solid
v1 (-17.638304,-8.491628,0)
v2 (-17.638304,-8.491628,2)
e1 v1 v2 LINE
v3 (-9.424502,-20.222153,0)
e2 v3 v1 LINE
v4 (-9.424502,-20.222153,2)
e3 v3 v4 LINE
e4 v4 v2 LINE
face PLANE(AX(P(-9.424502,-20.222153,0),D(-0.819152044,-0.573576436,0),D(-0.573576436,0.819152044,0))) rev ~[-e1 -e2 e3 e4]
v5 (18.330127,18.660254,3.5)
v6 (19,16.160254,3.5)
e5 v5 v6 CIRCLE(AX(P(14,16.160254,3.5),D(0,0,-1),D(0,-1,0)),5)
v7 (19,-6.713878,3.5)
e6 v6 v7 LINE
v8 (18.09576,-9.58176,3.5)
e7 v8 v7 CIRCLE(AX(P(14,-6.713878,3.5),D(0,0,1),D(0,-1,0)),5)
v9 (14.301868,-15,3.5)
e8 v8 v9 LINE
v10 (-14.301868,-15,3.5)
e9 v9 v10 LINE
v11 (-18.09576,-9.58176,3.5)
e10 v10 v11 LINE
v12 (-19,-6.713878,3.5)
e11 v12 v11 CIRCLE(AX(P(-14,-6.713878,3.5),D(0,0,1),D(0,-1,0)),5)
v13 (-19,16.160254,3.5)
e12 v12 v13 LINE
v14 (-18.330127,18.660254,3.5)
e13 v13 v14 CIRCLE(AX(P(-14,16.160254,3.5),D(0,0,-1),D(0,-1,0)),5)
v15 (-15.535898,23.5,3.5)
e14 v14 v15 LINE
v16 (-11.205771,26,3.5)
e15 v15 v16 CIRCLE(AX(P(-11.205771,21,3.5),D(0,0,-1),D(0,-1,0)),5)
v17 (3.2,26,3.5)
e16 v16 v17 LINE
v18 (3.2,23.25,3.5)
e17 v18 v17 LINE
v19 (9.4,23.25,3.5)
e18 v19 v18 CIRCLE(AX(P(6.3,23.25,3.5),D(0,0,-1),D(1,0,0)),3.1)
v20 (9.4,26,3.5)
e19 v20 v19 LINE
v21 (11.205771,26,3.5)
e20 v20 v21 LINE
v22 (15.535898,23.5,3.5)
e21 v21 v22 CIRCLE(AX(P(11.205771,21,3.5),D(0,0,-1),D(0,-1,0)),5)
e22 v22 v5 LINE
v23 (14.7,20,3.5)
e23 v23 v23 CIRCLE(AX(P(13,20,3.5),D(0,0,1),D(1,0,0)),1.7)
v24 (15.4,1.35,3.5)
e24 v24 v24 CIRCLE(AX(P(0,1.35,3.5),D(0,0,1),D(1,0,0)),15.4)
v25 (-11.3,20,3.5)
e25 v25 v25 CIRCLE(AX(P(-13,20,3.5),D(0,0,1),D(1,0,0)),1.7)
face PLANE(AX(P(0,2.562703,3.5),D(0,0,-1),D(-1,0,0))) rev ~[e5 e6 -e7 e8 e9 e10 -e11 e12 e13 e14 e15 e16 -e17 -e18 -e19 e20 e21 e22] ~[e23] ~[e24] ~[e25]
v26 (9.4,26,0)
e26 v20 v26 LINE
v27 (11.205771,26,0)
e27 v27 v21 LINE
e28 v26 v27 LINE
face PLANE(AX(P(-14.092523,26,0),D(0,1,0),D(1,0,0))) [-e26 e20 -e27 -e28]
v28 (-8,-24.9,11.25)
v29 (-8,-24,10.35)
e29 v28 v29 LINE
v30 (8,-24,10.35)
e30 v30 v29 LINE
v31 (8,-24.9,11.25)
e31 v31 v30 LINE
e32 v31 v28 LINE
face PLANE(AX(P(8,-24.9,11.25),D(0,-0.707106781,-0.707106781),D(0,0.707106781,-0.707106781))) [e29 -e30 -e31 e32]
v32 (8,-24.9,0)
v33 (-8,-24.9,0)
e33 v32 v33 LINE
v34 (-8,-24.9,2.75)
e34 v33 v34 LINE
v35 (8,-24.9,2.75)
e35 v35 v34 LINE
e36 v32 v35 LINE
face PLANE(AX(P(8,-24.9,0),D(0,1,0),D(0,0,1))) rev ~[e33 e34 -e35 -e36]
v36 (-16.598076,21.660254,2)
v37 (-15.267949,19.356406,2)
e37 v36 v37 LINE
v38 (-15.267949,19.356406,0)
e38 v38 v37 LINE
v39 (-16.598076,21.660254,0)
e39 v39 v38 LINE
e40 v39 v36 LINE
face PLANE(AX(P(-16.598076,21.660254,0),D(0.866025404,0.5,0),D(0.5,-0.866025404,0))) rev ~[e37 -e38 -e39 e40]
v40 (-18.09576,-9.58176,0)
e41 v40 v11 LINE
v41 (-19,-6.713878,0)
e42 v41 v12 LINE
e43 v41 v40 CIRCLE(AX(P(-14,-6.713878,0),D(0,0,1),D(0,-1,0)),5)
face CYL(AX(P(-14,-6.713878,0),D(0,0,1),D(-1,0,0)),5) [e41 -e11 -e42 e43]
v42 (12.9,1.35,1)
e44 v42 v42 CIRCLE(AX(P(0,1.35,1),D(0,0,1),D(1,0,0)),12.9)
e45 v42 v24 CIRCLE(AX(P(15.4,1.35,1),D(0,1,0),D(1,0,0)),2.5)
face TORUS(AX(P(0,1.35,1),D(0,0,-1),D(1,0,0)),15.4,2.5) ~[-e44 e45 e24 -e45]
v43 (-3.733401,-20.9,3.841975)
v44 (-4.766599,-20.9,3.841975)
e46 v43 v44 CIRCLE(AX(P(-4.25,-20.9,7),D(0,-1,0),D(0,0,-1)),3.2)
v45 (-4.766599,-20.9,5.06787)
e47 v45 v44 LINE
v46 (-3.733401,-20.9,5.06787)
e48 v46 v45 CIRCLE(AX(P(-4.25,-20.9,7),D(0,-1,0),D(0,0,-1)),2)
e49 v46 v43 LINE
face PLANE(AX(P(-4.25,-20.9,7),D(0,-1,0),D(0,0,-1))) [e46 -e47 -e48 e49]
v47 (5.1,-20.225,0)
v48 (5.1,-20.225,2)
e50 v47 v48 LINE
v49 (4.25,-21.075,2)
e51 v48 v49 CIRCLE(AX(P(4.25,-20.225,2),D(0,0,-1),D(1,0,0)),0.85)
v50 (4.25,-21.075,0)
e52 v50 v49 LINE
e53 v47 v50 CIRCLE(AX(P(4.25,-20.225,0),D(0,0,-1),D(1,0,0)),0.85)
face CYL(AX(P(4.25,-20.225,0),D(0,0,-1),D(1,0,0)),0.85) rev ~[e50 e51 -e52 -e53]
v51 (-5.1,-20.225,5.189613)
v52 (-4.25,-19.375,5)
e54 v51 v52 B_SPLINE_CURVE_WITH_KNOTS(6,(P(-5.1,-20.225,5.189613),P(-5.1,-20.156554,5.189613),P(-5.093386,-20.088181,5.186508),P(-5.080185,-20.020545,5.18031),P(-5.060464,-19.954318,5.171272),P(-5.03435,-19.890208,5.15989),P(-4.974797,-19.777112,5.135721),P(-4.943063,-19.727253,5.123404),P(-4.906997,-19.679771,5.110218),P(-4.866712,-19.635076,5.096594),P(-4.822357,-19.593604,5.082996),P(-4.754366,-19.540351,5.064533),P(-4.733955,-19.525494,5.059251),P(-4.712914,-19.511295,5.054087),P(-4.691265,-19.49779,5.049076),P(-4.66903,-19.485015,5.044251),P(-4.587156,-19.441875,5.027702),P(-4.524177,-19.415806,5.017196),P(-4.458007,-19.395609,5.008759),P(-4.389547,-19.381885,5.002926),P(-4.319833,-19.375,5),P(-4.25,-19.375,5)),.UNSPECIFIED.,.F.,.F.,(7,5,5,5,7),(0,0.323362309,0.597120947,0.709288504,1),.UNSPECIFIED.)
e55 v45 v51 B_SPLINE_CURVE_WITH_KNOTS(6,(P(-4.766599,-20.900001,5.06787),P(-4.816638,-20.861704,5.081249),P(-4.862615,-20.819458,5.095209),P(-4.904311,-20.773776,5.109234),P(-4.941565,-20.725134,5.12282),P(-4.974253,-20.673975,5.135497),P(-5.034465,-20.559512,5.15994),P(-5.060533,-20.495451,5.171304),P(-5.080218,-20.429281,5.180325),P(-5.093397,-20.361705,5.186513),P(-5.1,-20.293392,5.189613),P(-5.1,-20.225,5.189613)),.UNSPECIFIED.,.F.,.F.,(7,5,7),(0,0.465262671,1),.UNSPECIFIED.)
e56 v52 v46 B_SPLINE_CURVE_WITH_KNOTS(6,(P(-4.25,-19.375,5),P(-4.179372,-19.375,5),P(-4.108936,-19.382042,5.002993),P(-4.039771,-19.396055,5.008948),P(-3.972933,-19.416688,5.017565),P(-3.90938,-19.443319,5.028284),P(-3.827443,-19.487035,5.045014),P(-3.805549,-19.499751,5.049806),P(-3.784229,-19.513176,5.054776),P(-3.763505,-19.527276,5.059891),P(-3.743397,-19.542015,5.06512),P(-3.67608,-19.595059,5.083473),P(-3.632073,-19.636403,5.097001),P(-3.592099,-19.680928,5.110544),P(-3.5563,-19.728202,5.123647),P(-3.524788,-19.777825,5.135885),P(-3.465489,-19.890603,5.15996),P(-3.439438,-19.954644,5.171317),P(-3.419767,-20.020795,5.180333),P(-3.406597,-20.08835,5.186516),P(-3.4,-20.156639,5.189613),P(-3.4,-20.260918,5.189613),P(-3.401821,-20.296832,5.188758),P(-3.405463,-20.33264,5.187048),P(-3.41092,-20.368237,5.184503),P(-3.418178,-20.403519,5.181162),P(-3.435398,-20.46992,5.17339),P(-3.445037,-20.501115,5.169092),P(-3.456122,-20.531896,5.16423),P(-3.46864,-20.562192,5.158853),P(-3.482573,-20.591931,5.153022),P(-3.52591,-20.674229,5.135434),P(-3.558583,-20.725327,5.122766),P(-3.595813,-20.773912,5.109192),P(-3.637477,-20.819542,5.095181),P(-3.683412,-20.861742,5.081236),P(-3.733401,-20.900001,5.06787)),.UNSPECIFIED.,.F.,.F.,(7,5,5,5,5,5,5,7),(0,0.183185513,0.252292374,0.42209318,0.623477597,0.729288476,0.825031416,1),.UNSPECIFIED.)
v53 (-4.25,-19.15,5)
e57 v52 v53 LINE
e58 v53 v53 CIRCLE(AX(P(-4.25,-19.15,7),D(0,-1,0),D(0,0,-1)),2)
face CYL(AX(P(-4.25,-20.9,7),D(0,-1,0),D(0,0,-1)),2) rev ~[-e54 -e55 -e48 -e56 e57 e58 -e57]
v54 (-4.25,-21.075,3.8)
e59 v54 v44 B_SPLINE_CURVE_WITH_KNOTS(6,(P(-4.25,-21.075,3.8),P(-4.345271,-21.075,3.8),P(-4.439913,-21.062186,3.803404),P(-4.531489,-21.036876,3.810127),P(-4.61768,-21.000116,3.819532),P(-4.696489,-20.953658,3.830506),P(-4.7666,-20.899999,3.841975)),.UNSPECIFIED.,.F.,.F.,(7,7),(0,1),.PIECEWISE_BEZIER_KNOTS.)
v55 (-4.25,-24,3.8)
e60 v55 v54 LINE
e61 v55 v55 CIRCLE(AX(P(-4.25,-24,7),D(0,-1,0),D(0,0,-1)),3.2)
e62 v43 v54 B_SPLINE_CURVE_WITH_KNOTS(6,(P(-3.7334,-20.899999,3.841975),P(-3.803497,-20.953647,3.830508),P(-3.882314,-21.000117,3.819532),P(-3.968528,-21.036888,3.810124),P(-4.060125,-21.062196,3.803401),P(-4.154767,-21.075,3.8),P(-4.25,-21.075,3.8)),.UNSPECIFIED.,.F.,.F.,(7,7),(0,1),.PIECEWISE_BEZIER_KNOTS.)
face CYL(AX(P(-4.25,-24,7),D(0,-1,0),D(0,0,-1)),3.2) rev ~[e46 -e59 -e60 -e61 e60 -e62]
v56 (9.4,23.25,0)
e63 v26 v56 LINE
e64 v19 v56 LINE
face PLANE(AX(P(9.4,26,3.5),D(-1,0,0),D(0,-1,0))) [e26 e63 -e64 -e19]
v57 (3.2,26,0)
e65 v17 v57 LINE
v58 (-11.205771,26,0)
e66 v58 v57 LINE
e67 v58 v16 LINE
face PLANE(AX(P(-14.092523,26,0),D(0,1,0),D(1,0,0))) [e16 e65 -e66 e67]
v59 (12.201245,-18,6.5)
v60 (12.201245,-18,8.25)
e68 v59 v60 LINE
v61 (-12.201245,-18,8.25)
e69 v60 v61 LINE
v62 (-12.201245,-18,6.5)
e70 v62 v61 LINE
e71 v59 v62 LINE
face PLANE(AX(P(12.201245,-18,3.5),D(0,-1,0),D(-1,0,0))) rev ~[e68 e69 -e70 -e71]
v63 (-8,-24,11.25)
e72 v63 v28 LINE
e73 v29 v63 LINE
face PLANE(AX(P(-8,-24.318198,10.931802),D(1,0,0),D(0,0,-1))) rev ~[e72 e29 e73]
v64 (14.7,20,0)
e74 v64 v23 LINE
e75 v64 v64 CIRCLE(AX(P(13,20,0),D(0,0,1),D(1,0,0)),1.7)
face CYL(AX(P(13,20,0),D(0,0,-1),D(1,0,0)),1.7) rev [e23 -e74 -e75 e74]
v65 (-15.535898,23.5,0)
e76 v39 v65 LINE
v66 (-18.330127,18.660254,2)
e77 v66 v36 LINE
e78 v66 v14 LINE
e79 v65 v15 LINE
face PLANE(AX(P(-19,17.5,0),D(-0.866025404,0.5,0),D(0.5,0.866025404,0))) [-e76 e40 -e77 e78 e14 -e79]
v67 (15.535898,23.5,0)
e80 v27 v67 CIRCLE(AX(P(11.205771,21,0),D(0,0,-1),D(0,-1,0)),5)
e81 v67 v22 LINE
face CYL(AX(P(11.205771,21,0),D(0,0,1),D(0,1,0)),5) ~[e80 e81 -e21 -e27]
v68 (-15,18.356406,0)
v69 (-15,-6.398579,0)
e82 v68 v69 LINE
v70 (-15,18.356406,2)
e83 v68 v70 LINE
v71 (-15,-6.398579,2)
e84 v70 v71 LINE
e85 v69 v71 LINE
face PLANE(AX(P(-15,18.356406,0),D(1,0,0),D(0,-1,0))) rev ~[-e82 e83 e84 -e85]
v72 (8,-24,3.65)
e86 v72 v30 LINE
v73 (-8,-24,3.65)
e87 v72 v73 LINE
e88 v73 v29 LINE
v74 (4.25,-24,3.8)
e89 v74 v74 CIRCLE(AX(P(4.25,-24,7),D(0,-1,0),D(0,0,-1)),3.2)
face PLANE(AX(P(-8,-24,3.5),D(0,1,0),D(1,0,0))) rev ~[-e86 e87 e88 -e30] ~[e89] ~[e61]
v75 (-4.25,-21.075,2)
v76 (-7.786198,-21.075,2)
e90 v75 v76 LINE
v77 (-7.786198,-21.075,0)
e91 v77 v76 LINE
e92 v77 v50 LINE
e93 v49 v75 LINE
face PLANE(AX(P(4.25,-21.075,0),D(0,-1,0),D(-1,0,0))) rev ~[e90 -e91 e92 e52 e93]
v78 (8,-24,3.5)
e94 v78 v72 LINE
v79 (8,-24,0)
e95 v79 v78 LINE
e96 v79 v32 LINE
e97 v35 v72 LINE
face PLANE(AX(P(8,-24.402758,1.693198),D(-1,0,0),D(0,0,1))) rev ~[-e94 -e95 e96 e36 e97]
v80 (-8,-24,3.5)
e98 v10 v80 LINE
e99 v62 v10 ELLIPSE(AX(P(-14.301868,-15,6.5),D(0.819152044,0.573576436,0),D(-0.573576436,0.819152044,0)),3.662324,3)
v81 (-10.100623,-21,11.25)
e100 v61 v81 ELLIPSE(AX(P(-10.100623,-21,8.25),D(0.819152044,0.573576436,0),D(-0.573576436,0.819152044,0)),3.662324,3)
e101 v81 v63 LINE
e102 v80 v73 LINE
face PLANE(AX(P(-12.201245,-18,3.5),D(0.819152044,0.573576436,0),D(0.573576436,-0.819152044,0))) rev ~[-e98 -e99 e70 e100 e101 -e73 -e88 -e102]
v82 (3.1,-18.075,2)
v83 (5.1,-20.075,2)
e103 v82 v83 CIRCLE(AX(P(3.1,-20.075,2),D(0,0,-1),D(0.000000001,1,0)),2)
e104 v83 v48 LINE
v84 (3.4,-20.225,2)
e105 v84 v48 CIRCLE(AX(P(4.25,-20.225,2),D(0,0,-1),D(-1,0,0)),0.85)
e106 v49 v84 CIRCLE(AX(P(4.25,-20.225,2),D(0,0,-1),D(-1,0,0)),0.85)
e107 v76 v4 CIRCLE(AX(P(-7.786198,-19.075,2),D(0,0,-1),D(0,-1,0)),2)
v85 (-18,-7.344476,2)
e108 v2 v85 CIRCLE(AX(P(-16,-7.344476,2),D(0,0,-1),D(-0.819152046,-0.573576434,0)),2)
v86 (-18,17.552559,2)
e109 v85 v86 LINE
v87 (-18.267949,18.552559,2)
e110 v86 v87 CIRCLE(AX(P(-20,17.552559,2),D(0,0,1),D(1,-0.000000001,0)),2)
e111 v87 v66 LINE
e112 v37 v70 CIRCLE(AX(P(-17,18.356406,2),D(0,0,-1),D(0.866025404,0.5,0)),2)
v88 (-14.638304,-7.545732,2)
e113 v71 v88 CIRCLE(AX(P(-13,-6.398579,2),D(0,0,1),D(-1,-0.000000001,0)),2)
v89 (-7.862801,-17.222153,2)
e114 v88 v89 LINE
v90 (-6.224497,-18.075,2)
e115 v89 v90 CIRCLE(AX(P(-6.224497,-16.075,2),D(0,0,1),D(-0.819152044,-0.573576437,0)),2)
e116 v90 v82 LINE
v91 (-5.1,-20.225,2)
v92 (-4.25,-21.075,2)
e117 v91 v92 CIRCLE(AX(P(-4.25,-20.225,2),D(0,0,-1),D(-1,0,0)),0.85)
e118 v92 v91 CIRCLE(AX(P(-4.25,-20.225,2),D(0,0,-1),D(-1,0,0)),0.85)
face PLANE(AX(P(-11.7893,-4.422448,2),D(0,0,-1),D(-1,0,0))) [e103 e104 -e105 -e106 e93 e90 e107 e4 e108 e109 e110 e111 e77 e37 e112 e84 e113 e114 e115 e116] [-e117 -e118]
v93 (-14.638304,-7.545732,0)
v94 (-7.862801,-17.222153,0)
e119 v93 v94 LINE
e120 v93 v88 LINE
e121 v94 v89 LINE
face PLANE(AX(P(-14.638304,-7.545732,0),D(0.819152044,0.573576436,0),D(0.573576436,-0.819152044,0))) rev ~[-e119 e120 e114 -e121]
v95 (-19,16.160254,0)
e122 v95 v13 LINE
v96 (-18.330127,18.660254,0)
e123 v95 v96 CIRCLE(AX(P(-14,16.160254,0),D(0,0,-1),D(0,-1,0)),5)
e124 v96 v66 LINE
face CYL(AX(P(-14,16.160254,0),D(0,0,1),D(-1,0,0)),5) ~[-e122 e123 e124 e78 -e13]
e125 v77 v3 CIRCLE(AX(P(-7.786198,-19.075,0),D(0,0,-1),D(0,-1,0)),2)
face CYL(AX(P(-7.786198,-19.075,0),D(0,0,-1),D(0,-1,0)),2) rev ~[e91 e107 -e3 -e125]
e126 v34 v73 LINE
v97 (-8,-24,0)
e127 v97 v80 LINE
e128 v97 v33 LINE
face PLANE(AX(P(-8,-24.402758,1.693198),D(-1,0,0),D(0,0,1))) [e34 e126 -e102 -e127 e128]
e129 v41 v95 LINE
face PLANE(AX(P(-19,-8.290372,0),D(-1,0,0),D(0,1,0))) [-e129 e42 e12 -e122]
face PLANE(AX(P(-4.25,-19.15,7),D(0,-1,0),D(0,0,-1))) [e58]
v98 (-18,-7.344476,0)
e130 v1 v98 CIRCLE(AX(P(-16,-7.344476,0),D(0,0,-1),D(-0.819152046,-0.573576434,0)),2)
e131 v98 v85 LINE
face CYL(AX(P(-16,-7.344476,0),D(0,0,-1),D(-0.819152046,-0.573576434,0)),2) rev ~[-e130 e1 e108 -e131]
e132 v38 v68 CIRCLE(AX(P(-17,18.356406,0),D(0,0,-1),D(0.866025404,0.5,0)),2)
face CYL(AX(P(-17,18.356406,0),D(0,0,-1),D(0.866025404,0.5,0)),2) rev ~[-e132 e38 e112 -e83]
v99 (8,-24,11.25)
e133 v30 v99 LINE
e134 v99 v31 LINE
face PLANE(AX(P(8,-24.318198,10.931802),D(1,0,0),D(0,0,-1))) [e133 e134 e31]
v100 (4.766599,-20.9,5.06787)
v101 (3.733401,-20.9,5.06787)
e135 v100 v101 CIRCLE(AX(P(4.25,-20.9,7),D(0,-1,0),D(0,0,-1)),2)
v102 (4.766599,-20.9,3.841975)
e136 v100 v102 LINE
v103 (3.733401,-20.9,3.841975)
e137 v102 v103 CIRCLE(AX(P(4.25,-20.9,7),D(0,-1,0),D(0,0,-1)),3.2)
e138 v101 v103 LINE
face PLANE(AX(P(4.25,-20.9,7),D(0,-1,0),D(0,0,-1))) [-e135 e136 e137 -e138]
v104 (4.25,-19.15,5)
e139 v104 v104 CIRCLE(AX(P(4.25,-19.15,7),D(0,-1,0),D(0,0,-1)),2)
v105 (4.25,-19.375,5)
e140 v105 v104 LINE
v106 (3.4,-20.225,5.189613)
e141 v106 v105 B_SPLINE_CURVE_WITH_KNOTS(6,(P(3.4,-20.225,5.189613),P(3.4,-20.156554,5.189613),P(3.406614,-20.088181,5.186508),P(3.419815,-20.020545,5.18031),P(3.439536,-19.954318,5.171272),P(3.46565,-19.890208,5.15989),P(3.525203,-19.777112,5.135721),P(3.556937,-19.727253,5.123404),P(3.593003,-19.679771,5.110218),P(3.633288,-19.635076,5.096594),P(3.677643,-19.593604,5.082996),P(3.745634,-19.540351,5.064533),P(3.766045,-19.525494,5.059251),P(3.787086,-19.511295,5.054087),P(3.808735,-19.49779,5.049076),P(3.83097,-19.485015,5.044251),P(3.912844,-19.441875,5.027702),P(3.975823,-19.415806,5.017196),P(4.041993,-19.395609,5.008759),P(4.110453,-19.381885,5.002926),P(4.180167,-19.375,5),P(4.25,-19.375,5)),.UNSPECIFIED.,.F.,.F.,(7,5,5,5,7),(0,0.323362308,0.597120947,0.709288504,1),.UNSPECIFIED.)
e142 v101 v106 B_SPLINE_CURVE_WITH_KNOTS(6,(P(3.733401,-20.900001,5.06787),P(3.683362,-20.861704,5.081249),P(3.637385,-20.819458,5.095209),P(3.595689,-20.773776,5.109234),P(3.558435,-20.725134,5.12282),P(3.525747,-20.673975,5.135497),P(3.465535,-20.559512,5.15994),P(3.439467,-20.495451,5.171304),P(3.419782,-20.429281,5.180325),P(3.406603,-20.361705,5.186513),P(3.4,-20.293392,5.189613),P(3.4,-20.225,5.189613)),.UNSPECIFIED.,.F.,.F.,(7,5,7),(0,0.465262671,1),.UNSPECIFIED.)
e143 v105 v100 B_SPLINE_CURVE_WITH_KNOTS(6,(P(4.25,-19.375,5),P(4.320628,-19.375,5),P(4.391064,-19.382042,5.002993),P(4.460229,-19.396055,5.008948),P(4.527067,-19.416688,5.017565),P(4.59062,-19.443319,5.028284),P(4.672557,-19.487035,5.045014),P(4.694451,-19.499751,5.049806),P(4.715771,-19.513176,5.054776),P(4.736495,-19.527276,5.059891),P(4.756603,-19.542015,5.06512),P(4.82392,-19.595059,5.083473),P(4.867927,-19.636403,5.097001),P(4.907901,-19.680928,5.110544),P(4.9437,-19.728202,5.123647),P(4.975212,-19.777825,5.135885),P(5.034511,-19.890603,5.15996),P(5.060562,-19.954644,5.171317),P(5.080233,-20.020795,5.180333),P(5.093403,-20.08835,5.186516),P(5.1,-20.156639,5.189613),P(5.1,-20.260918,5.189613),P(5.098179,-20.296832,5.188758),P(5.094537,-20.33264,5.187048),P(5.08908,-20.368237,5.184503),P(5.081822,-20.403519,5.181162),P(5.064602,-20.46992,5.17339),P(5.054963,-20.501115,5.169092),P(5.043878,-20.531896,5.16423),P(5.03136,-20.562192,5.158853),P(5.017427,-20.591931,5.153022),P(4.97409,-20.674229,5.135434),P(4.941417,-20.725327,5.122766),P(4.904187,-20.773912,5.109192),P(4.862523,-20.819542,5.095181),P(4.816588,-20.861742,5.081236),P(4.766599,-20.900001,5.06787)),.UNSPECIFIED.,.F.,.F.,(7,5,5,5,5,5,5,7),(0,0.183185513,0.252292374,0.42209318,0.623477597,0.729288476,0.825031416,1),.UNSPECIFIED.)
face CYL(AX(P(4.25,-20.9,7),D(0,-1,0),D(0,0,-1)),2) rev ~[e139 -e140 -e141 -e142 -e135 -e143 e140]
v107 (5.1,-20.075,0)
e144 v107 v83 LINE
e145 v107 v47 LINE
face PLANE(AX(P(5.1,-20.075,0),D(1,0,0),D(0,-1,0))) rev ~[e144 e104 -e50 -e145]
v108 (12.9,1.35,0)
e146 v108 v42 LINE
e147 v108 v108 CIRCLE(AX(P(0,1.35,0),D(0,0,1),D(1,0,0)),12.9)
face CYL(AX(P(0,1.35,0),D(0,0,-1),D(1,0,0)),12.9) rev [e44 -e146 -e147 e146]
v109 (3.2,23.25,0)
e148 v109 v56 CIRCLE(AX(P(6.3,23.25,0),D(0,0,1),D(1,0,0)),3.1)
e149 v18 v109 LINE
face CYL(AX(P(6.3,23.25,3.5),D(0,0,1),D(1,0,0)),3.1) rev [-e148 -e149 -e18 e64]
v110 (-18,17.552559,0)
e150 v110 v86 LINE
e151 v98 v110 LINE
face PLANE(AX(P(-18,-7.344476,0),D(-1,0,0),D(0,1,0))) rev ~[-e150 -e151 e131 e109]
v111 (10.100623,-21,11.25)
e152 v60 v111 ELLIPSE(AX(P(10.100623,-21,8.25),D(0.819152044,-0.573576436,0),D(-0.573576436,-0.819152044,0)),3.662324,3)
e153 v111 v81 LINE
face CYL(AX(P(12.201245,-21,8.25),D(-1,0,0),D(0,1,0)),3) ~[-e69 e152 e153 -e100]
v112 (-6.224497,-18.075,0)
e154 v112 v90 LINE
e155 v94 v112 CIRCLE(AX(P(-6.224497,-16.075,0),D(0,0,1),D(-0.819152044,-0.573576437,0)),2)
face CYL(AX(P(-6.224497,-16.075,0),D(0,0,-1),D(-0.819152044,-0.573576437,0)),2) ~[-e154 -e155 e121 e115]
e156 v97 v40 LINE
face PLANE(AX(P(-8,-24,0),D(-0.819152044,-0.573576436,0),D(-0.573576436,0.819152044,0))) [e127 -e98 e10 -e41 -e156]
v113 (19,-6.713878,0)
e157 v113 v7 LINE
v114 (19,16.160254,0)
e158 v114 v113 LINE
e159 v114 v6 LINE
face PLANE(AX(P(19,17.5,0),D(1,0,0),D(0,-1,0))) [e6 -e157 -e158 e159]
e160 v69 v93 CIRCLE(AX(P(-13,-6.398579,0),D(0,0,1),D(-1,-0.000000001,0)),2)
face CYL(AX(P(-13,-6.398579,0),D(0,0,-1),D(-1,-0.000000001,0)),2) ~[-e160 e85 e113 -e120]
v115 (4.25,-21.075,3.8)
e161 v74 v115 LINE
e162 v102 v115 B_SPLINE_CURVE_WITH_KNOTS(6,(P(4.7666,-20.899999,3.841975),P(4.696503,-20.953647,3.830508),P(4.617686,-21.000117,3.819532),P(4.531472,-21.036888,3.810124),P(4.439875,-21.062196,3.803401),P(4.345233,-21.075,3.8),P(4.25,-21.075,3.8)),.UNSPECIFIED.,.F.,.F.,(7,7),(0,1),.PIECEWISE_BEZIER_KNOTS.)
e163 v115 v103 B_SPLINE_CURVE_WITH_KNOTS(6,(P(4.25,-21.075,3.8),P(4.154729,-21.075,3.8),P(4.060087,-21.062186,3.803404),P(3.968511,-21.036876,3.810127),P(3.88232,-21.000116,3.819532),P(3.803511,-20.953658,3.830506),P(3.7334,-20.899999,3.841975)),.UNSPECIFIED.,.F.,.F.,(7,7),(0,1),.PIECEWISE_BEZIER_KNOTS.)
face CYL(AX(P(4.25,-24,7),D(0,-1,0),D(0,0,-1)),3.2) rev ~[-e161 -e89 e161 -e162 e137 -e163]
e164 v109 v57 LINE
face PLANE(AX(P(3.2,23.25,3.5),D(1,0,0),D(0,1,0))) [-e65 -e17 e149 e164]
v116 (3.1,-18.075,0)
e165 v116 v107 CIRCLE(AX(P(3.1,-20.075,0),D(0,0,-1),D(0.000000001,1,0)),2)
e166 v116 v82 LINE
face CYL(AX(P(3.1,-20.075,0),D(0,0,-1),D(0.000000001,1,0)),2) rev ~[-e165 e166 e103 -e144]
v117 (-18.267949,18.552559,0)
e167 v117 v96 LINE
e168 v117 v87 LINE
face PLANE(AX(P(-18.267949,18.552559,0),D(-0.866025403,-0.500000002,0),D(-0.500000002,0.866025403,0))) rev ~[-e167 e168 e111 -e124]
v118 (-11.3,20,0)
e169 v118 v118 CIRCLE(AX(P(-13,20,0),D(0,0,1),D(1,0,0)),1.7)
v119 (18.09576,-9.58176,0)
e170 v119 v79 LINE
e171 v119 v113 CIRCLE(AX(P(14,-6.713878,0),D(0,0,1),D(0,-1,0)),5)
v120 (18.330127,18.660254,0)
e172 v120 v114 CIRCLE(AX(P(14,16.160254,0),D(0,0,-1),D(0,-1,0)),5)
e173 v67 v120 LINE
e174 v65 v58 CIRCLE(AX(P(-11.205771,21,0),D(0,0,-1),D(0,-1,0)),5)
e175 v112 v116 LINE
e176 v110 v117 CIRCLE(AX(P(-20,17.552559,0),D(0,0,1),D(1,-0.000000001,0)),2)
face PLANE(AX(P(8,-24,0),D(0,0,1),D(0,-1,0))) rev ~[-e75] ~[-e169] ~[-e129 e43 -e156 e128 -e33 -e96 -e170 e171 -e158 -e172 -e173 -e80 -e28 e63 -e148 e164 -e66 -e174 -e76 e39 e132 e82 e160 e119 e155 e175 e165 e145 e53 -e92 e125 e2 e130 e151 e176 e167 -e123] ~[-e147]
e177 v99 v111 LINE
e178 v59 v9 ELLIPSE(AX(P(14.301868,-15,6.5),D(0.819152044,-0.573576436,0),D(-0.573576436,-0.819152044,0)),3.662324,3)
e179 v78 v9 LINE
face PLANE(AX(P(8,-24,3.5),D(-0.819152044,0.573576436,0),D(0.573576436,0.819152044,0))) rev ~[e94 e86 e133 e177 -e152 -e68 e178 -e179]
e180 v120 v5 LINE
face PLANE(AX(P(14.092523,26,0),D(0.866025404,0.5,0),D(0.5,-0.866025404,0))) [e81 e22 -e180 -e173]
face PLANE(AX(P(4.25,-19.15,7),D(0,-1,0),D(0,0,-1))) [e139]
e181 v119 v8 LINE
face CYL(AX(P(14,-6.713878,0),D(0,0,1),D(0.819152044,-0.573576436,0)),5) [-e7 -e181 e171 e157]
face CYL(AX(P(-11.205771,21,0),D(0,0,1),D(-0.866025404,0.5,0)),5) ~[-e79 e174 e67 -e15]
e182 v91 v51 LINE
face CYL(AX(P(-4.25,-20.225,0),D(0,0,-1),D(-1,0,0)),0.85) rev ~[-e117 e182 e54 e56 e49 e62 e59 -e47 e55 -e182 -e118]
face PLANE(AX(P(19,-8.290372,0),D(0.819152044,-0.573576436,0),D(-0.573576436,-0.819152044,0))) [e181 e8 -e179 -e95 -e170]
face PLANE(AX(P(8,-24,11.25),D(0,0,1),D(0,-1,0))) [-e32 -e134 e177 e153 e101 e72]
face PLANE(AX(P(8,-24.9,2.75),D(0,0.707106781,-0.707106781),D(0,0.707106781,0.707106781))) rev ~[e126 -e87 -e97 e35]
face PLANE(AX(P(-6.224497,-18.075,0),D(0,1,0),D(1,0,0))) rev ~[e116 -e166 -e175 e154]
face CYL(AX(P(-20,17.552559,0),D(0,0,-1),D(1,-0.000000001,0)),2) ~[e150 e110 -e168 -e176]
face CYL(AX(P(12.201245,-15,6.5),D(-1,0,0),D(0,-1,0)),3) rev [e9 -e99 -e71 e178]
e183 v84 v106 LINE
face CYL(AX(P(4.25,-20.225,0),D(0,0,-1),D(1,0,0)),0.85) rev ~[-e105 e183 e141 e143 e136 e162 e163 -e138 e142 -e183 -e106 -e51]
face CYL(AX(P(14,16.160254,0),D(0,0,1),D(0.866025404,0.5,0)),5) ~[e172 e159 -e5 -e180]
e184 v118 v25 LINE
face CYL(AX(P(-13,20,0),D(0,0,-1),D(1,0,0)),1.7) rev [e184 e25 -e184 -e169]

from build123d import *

# Parameters (mm, degrees)
SKETCH1_R           = 1.7
SKETCH1_R_2         = 12.9
BOSS_EXTRUDE1_DEPTH = 3.5
FILLET1_R           = 2.5
FILLET2_R           = 5
BOSS_EXTRUDE2_DEPTH = 7.75
FILLET3_R           = 3
SKETCH3_R           = 3.2
CUT_EXTRUDE1_DEPTH  = 3.1
SKETCH4_R           = 2
CUT_EXTRUDE2_DEPTH  = 1.75
SKETCH5_R           = 0.85
CUT_EXTRUDE3_DEPTH  = 7
CUT_EXTRUDE4_DEPTH  = 2
BOSS_EXTRUDE3_DEPTH = 16
CUT_EXTRUDE5_DEPTH  = 34.12193382


with BuildPart() as part:
    # Sketch1 → Boss-Extrude1 (new body)
    with BuildSketch(Plane.XY):
        Polygon((-19, -8.290371926), (-19, 17.5), (-14.092522712, 26), (14.092522712, 26), (19, 17.5), (19, -8.290371926), (8, -24), (-8, -24), align=None)
        with Locations((-13, 20)):
            Circle(SKETCH1_R, mode=Mode.SUBTRACT)
        with Locations((13, 20)):
            Circle(SKETCH1_R, mode=Mode.SUBTRACT)
        with Locations((0, 1.35)):
            Circle(SKETCH1_R_2, mode=Mode.SUBTRACT)
    extrude(amount=BOSS_EXTRUDE1_DEPTH)

    # Fillet1
    fillet1_edges = [part.edges().sort_by_distance(p)[0] for p in [
        (-12.9, 1.35, 3.5),
    ]]
    fillet(fillet1_edges, radius=FILLET1_R)

    # Fillet2
    fillet2_edges = [part.edges().sort_by_distance(p)[0] for p in [
        (-19, -8.290371926, 1.75),
        (-19, 17.5, 1.75),
        (-14.092522712, 26, 1.75),
        (14.092522712, 26, 1.75),
        (19, 17.5, 1.75),
        (19, -8.290371926, 1.75),
    ]]
    fillet(fillet2_edges, radius=FILLET2_R)

    # Sketch2 → Boss-Extrude2 (add)
    with BuildSketch(Plane.XY.offset(3.5)):
        Polygon((-12.201245229, -18), (-8, -24), (8, -24), (12.201245229, -18), align=None)
    extrude(amount=BOSS_EXTRUDE2_DEPTH)

    # Fillet3
    fillet3_edges = [part.edges().sort_by_distance(p)[0] for p in [
        (0, -18, 3.5),
        (0, -18, 11.25),
    ]]
    fillet(fillet3_edges, radius=FILLET3_R)

    # Sketch3 → Cut-Extrude1 (cut)
    with BuildSketch(Plane.XZ.offset(24)):
        with Locations(Location((-4.25, 7, 0), (0, 0, 270))):
            Circle(SKETCH3_R)
        with Locations(Location((4.25, 7, 0), (0, 0, 270))):
            Circle(SKETCH3_R)
    extrude(amount=-CUT_EXTRUDE1_DEPTH, mode=Mode.SUBTRACT)

    # Sketch4 → Cut-Extrude2 (cut)
    with BuildSketch(Plane.XZ.offset(20.9)):
        with Locations(Location((-4.25, 7, 0), (0, 0, 270))):
            Circle(SKETCH4_R)
        with Locations(Location((4.25, 7, 0), (0, 0, 270))):
            Circle(SKETCH4_R)
    extrude(amount=-CUT_EXTRUDE2_DEPTH, mode=Mode.SUBTRACT)

    # Sketch5 → Cut-Extrude3 (cut)
    with BuildSketch(Plane(origin=(0, 0, 0), x_dir=(-1, 0, 0), z_dir=(0, 0, -1))):
        with Locations((4.25, -20.225)):
            Circle(SKETCH5_R)
        with Locations((-4.25, -20.225)):
            Circle(SKETCH5_R)
    extrude(amount=-CUT_EXTRUDE3_DEPTH, mode=Mode.SUBTRACT)

    # Sketch6 → Cut-Extrude4 (cut)
    with BuildSketch(Plane(origin=(0, 0, 0), x_dir=(-1, 0, 0), z_dir=(0, 0, -1))):
        with BuildLine():
            Line((18.330127019, 18.660254038), (16.598076211, 21.660254038))
            Line((16.598076211, 21.660254038), (15.267949192, 19.356406461))
            ThreePointArc((15.267949192, 19.356406461), (15.068148347, 18.874044551), (15, 18.356406461))
            Line((15, 18.356406461), (15, -6.398579193))
            ThreePointArc((15, -6.398579193), (14.907433901, -6.999990792), (14.638304089, -7.545732065))
            Line((14.638304089, -7.545732065), (7.862801296, -17.222152873))
            ThreePointArc((7.862801296, -17.222152873), (7.147994434, -17.849021666), (6.224497208, -18.075))
            Line((6.224497208, -18.075), (-3.1, -18.075))
            ThreePointArc((-3.1, -18.075), (-4.514213562, -18.660786438), (-5.1, -20.075))
            Line((-5.1, -20.075), (-5.1, -20.225))
            ThreePointArc((-5.1, -20.225), (-4.851040764, -20.826040764), (-4.25, -21.075))
            Line((-4.25, -21.075), (4.25, -21.075))
            Line((4.25, -21.075), (7.786198359, -21.075))
            ThreePointArc((7.786198359, -21.075), (8.709695586, -20.849021666), (9.424502448, -20.222152873))
            Line((9.424502448, -20.222152873), (17.638304089, -8.491628432))
            ThreePointArc((17.638304089, -8.491628432), (17.907433901, -7.945887158), (18, -7.344475559))
            Line((18, -7.344475559), (18, 17.552558883))
            ThreePointArc((18, 17.552558883), (18.068148347, 18.070196973), (18.267949192, 18.552558883))
            Line((18.267949192, 18.552558883), (18.330127019, 18.660254038))
        make_face()
    extrude(amount=-CUT_EXTRUDE4_DEPTH, mode=Mode.SUBTRACT)

    # Sketch7 → Boss-Extrude3 (add)
    with BuildSketch(Plane(origin=(8, 0, 0), x_dir=(0, 0, -1), z_dir=(1, 0, 0))):
        Polygon((-11.25, -24), (-11.25, -24.9), (-10.35, -24), align=None)
        Polygon((-2.75, -24.9), (-3.65, -24), (0, -24), (0, -24.9), align=None)
    extrude(amount=-BOSS_EXTRUDE3_DEPTH)

    # Sketch9 → Cut-Extrude5 (cut, through all)
    with BuildSketch(Plane.XY.offset(3.5)):
        with BuildLine():
            Line((3.2, 23.25), (3.2, 26))
            Line((3.2, 26), (9.4, 26))
            Line((9.4, 26), (9.4, 23.25))
            ThreePointArc((9.4, 23.25), (6.3, 20.15), (3.2, 23.25))
        make_face()
    extrude(amount=-CUT_EXTRUDE5_DEPTH, mode=Mode.SUBTRACT)


solid = part.part
